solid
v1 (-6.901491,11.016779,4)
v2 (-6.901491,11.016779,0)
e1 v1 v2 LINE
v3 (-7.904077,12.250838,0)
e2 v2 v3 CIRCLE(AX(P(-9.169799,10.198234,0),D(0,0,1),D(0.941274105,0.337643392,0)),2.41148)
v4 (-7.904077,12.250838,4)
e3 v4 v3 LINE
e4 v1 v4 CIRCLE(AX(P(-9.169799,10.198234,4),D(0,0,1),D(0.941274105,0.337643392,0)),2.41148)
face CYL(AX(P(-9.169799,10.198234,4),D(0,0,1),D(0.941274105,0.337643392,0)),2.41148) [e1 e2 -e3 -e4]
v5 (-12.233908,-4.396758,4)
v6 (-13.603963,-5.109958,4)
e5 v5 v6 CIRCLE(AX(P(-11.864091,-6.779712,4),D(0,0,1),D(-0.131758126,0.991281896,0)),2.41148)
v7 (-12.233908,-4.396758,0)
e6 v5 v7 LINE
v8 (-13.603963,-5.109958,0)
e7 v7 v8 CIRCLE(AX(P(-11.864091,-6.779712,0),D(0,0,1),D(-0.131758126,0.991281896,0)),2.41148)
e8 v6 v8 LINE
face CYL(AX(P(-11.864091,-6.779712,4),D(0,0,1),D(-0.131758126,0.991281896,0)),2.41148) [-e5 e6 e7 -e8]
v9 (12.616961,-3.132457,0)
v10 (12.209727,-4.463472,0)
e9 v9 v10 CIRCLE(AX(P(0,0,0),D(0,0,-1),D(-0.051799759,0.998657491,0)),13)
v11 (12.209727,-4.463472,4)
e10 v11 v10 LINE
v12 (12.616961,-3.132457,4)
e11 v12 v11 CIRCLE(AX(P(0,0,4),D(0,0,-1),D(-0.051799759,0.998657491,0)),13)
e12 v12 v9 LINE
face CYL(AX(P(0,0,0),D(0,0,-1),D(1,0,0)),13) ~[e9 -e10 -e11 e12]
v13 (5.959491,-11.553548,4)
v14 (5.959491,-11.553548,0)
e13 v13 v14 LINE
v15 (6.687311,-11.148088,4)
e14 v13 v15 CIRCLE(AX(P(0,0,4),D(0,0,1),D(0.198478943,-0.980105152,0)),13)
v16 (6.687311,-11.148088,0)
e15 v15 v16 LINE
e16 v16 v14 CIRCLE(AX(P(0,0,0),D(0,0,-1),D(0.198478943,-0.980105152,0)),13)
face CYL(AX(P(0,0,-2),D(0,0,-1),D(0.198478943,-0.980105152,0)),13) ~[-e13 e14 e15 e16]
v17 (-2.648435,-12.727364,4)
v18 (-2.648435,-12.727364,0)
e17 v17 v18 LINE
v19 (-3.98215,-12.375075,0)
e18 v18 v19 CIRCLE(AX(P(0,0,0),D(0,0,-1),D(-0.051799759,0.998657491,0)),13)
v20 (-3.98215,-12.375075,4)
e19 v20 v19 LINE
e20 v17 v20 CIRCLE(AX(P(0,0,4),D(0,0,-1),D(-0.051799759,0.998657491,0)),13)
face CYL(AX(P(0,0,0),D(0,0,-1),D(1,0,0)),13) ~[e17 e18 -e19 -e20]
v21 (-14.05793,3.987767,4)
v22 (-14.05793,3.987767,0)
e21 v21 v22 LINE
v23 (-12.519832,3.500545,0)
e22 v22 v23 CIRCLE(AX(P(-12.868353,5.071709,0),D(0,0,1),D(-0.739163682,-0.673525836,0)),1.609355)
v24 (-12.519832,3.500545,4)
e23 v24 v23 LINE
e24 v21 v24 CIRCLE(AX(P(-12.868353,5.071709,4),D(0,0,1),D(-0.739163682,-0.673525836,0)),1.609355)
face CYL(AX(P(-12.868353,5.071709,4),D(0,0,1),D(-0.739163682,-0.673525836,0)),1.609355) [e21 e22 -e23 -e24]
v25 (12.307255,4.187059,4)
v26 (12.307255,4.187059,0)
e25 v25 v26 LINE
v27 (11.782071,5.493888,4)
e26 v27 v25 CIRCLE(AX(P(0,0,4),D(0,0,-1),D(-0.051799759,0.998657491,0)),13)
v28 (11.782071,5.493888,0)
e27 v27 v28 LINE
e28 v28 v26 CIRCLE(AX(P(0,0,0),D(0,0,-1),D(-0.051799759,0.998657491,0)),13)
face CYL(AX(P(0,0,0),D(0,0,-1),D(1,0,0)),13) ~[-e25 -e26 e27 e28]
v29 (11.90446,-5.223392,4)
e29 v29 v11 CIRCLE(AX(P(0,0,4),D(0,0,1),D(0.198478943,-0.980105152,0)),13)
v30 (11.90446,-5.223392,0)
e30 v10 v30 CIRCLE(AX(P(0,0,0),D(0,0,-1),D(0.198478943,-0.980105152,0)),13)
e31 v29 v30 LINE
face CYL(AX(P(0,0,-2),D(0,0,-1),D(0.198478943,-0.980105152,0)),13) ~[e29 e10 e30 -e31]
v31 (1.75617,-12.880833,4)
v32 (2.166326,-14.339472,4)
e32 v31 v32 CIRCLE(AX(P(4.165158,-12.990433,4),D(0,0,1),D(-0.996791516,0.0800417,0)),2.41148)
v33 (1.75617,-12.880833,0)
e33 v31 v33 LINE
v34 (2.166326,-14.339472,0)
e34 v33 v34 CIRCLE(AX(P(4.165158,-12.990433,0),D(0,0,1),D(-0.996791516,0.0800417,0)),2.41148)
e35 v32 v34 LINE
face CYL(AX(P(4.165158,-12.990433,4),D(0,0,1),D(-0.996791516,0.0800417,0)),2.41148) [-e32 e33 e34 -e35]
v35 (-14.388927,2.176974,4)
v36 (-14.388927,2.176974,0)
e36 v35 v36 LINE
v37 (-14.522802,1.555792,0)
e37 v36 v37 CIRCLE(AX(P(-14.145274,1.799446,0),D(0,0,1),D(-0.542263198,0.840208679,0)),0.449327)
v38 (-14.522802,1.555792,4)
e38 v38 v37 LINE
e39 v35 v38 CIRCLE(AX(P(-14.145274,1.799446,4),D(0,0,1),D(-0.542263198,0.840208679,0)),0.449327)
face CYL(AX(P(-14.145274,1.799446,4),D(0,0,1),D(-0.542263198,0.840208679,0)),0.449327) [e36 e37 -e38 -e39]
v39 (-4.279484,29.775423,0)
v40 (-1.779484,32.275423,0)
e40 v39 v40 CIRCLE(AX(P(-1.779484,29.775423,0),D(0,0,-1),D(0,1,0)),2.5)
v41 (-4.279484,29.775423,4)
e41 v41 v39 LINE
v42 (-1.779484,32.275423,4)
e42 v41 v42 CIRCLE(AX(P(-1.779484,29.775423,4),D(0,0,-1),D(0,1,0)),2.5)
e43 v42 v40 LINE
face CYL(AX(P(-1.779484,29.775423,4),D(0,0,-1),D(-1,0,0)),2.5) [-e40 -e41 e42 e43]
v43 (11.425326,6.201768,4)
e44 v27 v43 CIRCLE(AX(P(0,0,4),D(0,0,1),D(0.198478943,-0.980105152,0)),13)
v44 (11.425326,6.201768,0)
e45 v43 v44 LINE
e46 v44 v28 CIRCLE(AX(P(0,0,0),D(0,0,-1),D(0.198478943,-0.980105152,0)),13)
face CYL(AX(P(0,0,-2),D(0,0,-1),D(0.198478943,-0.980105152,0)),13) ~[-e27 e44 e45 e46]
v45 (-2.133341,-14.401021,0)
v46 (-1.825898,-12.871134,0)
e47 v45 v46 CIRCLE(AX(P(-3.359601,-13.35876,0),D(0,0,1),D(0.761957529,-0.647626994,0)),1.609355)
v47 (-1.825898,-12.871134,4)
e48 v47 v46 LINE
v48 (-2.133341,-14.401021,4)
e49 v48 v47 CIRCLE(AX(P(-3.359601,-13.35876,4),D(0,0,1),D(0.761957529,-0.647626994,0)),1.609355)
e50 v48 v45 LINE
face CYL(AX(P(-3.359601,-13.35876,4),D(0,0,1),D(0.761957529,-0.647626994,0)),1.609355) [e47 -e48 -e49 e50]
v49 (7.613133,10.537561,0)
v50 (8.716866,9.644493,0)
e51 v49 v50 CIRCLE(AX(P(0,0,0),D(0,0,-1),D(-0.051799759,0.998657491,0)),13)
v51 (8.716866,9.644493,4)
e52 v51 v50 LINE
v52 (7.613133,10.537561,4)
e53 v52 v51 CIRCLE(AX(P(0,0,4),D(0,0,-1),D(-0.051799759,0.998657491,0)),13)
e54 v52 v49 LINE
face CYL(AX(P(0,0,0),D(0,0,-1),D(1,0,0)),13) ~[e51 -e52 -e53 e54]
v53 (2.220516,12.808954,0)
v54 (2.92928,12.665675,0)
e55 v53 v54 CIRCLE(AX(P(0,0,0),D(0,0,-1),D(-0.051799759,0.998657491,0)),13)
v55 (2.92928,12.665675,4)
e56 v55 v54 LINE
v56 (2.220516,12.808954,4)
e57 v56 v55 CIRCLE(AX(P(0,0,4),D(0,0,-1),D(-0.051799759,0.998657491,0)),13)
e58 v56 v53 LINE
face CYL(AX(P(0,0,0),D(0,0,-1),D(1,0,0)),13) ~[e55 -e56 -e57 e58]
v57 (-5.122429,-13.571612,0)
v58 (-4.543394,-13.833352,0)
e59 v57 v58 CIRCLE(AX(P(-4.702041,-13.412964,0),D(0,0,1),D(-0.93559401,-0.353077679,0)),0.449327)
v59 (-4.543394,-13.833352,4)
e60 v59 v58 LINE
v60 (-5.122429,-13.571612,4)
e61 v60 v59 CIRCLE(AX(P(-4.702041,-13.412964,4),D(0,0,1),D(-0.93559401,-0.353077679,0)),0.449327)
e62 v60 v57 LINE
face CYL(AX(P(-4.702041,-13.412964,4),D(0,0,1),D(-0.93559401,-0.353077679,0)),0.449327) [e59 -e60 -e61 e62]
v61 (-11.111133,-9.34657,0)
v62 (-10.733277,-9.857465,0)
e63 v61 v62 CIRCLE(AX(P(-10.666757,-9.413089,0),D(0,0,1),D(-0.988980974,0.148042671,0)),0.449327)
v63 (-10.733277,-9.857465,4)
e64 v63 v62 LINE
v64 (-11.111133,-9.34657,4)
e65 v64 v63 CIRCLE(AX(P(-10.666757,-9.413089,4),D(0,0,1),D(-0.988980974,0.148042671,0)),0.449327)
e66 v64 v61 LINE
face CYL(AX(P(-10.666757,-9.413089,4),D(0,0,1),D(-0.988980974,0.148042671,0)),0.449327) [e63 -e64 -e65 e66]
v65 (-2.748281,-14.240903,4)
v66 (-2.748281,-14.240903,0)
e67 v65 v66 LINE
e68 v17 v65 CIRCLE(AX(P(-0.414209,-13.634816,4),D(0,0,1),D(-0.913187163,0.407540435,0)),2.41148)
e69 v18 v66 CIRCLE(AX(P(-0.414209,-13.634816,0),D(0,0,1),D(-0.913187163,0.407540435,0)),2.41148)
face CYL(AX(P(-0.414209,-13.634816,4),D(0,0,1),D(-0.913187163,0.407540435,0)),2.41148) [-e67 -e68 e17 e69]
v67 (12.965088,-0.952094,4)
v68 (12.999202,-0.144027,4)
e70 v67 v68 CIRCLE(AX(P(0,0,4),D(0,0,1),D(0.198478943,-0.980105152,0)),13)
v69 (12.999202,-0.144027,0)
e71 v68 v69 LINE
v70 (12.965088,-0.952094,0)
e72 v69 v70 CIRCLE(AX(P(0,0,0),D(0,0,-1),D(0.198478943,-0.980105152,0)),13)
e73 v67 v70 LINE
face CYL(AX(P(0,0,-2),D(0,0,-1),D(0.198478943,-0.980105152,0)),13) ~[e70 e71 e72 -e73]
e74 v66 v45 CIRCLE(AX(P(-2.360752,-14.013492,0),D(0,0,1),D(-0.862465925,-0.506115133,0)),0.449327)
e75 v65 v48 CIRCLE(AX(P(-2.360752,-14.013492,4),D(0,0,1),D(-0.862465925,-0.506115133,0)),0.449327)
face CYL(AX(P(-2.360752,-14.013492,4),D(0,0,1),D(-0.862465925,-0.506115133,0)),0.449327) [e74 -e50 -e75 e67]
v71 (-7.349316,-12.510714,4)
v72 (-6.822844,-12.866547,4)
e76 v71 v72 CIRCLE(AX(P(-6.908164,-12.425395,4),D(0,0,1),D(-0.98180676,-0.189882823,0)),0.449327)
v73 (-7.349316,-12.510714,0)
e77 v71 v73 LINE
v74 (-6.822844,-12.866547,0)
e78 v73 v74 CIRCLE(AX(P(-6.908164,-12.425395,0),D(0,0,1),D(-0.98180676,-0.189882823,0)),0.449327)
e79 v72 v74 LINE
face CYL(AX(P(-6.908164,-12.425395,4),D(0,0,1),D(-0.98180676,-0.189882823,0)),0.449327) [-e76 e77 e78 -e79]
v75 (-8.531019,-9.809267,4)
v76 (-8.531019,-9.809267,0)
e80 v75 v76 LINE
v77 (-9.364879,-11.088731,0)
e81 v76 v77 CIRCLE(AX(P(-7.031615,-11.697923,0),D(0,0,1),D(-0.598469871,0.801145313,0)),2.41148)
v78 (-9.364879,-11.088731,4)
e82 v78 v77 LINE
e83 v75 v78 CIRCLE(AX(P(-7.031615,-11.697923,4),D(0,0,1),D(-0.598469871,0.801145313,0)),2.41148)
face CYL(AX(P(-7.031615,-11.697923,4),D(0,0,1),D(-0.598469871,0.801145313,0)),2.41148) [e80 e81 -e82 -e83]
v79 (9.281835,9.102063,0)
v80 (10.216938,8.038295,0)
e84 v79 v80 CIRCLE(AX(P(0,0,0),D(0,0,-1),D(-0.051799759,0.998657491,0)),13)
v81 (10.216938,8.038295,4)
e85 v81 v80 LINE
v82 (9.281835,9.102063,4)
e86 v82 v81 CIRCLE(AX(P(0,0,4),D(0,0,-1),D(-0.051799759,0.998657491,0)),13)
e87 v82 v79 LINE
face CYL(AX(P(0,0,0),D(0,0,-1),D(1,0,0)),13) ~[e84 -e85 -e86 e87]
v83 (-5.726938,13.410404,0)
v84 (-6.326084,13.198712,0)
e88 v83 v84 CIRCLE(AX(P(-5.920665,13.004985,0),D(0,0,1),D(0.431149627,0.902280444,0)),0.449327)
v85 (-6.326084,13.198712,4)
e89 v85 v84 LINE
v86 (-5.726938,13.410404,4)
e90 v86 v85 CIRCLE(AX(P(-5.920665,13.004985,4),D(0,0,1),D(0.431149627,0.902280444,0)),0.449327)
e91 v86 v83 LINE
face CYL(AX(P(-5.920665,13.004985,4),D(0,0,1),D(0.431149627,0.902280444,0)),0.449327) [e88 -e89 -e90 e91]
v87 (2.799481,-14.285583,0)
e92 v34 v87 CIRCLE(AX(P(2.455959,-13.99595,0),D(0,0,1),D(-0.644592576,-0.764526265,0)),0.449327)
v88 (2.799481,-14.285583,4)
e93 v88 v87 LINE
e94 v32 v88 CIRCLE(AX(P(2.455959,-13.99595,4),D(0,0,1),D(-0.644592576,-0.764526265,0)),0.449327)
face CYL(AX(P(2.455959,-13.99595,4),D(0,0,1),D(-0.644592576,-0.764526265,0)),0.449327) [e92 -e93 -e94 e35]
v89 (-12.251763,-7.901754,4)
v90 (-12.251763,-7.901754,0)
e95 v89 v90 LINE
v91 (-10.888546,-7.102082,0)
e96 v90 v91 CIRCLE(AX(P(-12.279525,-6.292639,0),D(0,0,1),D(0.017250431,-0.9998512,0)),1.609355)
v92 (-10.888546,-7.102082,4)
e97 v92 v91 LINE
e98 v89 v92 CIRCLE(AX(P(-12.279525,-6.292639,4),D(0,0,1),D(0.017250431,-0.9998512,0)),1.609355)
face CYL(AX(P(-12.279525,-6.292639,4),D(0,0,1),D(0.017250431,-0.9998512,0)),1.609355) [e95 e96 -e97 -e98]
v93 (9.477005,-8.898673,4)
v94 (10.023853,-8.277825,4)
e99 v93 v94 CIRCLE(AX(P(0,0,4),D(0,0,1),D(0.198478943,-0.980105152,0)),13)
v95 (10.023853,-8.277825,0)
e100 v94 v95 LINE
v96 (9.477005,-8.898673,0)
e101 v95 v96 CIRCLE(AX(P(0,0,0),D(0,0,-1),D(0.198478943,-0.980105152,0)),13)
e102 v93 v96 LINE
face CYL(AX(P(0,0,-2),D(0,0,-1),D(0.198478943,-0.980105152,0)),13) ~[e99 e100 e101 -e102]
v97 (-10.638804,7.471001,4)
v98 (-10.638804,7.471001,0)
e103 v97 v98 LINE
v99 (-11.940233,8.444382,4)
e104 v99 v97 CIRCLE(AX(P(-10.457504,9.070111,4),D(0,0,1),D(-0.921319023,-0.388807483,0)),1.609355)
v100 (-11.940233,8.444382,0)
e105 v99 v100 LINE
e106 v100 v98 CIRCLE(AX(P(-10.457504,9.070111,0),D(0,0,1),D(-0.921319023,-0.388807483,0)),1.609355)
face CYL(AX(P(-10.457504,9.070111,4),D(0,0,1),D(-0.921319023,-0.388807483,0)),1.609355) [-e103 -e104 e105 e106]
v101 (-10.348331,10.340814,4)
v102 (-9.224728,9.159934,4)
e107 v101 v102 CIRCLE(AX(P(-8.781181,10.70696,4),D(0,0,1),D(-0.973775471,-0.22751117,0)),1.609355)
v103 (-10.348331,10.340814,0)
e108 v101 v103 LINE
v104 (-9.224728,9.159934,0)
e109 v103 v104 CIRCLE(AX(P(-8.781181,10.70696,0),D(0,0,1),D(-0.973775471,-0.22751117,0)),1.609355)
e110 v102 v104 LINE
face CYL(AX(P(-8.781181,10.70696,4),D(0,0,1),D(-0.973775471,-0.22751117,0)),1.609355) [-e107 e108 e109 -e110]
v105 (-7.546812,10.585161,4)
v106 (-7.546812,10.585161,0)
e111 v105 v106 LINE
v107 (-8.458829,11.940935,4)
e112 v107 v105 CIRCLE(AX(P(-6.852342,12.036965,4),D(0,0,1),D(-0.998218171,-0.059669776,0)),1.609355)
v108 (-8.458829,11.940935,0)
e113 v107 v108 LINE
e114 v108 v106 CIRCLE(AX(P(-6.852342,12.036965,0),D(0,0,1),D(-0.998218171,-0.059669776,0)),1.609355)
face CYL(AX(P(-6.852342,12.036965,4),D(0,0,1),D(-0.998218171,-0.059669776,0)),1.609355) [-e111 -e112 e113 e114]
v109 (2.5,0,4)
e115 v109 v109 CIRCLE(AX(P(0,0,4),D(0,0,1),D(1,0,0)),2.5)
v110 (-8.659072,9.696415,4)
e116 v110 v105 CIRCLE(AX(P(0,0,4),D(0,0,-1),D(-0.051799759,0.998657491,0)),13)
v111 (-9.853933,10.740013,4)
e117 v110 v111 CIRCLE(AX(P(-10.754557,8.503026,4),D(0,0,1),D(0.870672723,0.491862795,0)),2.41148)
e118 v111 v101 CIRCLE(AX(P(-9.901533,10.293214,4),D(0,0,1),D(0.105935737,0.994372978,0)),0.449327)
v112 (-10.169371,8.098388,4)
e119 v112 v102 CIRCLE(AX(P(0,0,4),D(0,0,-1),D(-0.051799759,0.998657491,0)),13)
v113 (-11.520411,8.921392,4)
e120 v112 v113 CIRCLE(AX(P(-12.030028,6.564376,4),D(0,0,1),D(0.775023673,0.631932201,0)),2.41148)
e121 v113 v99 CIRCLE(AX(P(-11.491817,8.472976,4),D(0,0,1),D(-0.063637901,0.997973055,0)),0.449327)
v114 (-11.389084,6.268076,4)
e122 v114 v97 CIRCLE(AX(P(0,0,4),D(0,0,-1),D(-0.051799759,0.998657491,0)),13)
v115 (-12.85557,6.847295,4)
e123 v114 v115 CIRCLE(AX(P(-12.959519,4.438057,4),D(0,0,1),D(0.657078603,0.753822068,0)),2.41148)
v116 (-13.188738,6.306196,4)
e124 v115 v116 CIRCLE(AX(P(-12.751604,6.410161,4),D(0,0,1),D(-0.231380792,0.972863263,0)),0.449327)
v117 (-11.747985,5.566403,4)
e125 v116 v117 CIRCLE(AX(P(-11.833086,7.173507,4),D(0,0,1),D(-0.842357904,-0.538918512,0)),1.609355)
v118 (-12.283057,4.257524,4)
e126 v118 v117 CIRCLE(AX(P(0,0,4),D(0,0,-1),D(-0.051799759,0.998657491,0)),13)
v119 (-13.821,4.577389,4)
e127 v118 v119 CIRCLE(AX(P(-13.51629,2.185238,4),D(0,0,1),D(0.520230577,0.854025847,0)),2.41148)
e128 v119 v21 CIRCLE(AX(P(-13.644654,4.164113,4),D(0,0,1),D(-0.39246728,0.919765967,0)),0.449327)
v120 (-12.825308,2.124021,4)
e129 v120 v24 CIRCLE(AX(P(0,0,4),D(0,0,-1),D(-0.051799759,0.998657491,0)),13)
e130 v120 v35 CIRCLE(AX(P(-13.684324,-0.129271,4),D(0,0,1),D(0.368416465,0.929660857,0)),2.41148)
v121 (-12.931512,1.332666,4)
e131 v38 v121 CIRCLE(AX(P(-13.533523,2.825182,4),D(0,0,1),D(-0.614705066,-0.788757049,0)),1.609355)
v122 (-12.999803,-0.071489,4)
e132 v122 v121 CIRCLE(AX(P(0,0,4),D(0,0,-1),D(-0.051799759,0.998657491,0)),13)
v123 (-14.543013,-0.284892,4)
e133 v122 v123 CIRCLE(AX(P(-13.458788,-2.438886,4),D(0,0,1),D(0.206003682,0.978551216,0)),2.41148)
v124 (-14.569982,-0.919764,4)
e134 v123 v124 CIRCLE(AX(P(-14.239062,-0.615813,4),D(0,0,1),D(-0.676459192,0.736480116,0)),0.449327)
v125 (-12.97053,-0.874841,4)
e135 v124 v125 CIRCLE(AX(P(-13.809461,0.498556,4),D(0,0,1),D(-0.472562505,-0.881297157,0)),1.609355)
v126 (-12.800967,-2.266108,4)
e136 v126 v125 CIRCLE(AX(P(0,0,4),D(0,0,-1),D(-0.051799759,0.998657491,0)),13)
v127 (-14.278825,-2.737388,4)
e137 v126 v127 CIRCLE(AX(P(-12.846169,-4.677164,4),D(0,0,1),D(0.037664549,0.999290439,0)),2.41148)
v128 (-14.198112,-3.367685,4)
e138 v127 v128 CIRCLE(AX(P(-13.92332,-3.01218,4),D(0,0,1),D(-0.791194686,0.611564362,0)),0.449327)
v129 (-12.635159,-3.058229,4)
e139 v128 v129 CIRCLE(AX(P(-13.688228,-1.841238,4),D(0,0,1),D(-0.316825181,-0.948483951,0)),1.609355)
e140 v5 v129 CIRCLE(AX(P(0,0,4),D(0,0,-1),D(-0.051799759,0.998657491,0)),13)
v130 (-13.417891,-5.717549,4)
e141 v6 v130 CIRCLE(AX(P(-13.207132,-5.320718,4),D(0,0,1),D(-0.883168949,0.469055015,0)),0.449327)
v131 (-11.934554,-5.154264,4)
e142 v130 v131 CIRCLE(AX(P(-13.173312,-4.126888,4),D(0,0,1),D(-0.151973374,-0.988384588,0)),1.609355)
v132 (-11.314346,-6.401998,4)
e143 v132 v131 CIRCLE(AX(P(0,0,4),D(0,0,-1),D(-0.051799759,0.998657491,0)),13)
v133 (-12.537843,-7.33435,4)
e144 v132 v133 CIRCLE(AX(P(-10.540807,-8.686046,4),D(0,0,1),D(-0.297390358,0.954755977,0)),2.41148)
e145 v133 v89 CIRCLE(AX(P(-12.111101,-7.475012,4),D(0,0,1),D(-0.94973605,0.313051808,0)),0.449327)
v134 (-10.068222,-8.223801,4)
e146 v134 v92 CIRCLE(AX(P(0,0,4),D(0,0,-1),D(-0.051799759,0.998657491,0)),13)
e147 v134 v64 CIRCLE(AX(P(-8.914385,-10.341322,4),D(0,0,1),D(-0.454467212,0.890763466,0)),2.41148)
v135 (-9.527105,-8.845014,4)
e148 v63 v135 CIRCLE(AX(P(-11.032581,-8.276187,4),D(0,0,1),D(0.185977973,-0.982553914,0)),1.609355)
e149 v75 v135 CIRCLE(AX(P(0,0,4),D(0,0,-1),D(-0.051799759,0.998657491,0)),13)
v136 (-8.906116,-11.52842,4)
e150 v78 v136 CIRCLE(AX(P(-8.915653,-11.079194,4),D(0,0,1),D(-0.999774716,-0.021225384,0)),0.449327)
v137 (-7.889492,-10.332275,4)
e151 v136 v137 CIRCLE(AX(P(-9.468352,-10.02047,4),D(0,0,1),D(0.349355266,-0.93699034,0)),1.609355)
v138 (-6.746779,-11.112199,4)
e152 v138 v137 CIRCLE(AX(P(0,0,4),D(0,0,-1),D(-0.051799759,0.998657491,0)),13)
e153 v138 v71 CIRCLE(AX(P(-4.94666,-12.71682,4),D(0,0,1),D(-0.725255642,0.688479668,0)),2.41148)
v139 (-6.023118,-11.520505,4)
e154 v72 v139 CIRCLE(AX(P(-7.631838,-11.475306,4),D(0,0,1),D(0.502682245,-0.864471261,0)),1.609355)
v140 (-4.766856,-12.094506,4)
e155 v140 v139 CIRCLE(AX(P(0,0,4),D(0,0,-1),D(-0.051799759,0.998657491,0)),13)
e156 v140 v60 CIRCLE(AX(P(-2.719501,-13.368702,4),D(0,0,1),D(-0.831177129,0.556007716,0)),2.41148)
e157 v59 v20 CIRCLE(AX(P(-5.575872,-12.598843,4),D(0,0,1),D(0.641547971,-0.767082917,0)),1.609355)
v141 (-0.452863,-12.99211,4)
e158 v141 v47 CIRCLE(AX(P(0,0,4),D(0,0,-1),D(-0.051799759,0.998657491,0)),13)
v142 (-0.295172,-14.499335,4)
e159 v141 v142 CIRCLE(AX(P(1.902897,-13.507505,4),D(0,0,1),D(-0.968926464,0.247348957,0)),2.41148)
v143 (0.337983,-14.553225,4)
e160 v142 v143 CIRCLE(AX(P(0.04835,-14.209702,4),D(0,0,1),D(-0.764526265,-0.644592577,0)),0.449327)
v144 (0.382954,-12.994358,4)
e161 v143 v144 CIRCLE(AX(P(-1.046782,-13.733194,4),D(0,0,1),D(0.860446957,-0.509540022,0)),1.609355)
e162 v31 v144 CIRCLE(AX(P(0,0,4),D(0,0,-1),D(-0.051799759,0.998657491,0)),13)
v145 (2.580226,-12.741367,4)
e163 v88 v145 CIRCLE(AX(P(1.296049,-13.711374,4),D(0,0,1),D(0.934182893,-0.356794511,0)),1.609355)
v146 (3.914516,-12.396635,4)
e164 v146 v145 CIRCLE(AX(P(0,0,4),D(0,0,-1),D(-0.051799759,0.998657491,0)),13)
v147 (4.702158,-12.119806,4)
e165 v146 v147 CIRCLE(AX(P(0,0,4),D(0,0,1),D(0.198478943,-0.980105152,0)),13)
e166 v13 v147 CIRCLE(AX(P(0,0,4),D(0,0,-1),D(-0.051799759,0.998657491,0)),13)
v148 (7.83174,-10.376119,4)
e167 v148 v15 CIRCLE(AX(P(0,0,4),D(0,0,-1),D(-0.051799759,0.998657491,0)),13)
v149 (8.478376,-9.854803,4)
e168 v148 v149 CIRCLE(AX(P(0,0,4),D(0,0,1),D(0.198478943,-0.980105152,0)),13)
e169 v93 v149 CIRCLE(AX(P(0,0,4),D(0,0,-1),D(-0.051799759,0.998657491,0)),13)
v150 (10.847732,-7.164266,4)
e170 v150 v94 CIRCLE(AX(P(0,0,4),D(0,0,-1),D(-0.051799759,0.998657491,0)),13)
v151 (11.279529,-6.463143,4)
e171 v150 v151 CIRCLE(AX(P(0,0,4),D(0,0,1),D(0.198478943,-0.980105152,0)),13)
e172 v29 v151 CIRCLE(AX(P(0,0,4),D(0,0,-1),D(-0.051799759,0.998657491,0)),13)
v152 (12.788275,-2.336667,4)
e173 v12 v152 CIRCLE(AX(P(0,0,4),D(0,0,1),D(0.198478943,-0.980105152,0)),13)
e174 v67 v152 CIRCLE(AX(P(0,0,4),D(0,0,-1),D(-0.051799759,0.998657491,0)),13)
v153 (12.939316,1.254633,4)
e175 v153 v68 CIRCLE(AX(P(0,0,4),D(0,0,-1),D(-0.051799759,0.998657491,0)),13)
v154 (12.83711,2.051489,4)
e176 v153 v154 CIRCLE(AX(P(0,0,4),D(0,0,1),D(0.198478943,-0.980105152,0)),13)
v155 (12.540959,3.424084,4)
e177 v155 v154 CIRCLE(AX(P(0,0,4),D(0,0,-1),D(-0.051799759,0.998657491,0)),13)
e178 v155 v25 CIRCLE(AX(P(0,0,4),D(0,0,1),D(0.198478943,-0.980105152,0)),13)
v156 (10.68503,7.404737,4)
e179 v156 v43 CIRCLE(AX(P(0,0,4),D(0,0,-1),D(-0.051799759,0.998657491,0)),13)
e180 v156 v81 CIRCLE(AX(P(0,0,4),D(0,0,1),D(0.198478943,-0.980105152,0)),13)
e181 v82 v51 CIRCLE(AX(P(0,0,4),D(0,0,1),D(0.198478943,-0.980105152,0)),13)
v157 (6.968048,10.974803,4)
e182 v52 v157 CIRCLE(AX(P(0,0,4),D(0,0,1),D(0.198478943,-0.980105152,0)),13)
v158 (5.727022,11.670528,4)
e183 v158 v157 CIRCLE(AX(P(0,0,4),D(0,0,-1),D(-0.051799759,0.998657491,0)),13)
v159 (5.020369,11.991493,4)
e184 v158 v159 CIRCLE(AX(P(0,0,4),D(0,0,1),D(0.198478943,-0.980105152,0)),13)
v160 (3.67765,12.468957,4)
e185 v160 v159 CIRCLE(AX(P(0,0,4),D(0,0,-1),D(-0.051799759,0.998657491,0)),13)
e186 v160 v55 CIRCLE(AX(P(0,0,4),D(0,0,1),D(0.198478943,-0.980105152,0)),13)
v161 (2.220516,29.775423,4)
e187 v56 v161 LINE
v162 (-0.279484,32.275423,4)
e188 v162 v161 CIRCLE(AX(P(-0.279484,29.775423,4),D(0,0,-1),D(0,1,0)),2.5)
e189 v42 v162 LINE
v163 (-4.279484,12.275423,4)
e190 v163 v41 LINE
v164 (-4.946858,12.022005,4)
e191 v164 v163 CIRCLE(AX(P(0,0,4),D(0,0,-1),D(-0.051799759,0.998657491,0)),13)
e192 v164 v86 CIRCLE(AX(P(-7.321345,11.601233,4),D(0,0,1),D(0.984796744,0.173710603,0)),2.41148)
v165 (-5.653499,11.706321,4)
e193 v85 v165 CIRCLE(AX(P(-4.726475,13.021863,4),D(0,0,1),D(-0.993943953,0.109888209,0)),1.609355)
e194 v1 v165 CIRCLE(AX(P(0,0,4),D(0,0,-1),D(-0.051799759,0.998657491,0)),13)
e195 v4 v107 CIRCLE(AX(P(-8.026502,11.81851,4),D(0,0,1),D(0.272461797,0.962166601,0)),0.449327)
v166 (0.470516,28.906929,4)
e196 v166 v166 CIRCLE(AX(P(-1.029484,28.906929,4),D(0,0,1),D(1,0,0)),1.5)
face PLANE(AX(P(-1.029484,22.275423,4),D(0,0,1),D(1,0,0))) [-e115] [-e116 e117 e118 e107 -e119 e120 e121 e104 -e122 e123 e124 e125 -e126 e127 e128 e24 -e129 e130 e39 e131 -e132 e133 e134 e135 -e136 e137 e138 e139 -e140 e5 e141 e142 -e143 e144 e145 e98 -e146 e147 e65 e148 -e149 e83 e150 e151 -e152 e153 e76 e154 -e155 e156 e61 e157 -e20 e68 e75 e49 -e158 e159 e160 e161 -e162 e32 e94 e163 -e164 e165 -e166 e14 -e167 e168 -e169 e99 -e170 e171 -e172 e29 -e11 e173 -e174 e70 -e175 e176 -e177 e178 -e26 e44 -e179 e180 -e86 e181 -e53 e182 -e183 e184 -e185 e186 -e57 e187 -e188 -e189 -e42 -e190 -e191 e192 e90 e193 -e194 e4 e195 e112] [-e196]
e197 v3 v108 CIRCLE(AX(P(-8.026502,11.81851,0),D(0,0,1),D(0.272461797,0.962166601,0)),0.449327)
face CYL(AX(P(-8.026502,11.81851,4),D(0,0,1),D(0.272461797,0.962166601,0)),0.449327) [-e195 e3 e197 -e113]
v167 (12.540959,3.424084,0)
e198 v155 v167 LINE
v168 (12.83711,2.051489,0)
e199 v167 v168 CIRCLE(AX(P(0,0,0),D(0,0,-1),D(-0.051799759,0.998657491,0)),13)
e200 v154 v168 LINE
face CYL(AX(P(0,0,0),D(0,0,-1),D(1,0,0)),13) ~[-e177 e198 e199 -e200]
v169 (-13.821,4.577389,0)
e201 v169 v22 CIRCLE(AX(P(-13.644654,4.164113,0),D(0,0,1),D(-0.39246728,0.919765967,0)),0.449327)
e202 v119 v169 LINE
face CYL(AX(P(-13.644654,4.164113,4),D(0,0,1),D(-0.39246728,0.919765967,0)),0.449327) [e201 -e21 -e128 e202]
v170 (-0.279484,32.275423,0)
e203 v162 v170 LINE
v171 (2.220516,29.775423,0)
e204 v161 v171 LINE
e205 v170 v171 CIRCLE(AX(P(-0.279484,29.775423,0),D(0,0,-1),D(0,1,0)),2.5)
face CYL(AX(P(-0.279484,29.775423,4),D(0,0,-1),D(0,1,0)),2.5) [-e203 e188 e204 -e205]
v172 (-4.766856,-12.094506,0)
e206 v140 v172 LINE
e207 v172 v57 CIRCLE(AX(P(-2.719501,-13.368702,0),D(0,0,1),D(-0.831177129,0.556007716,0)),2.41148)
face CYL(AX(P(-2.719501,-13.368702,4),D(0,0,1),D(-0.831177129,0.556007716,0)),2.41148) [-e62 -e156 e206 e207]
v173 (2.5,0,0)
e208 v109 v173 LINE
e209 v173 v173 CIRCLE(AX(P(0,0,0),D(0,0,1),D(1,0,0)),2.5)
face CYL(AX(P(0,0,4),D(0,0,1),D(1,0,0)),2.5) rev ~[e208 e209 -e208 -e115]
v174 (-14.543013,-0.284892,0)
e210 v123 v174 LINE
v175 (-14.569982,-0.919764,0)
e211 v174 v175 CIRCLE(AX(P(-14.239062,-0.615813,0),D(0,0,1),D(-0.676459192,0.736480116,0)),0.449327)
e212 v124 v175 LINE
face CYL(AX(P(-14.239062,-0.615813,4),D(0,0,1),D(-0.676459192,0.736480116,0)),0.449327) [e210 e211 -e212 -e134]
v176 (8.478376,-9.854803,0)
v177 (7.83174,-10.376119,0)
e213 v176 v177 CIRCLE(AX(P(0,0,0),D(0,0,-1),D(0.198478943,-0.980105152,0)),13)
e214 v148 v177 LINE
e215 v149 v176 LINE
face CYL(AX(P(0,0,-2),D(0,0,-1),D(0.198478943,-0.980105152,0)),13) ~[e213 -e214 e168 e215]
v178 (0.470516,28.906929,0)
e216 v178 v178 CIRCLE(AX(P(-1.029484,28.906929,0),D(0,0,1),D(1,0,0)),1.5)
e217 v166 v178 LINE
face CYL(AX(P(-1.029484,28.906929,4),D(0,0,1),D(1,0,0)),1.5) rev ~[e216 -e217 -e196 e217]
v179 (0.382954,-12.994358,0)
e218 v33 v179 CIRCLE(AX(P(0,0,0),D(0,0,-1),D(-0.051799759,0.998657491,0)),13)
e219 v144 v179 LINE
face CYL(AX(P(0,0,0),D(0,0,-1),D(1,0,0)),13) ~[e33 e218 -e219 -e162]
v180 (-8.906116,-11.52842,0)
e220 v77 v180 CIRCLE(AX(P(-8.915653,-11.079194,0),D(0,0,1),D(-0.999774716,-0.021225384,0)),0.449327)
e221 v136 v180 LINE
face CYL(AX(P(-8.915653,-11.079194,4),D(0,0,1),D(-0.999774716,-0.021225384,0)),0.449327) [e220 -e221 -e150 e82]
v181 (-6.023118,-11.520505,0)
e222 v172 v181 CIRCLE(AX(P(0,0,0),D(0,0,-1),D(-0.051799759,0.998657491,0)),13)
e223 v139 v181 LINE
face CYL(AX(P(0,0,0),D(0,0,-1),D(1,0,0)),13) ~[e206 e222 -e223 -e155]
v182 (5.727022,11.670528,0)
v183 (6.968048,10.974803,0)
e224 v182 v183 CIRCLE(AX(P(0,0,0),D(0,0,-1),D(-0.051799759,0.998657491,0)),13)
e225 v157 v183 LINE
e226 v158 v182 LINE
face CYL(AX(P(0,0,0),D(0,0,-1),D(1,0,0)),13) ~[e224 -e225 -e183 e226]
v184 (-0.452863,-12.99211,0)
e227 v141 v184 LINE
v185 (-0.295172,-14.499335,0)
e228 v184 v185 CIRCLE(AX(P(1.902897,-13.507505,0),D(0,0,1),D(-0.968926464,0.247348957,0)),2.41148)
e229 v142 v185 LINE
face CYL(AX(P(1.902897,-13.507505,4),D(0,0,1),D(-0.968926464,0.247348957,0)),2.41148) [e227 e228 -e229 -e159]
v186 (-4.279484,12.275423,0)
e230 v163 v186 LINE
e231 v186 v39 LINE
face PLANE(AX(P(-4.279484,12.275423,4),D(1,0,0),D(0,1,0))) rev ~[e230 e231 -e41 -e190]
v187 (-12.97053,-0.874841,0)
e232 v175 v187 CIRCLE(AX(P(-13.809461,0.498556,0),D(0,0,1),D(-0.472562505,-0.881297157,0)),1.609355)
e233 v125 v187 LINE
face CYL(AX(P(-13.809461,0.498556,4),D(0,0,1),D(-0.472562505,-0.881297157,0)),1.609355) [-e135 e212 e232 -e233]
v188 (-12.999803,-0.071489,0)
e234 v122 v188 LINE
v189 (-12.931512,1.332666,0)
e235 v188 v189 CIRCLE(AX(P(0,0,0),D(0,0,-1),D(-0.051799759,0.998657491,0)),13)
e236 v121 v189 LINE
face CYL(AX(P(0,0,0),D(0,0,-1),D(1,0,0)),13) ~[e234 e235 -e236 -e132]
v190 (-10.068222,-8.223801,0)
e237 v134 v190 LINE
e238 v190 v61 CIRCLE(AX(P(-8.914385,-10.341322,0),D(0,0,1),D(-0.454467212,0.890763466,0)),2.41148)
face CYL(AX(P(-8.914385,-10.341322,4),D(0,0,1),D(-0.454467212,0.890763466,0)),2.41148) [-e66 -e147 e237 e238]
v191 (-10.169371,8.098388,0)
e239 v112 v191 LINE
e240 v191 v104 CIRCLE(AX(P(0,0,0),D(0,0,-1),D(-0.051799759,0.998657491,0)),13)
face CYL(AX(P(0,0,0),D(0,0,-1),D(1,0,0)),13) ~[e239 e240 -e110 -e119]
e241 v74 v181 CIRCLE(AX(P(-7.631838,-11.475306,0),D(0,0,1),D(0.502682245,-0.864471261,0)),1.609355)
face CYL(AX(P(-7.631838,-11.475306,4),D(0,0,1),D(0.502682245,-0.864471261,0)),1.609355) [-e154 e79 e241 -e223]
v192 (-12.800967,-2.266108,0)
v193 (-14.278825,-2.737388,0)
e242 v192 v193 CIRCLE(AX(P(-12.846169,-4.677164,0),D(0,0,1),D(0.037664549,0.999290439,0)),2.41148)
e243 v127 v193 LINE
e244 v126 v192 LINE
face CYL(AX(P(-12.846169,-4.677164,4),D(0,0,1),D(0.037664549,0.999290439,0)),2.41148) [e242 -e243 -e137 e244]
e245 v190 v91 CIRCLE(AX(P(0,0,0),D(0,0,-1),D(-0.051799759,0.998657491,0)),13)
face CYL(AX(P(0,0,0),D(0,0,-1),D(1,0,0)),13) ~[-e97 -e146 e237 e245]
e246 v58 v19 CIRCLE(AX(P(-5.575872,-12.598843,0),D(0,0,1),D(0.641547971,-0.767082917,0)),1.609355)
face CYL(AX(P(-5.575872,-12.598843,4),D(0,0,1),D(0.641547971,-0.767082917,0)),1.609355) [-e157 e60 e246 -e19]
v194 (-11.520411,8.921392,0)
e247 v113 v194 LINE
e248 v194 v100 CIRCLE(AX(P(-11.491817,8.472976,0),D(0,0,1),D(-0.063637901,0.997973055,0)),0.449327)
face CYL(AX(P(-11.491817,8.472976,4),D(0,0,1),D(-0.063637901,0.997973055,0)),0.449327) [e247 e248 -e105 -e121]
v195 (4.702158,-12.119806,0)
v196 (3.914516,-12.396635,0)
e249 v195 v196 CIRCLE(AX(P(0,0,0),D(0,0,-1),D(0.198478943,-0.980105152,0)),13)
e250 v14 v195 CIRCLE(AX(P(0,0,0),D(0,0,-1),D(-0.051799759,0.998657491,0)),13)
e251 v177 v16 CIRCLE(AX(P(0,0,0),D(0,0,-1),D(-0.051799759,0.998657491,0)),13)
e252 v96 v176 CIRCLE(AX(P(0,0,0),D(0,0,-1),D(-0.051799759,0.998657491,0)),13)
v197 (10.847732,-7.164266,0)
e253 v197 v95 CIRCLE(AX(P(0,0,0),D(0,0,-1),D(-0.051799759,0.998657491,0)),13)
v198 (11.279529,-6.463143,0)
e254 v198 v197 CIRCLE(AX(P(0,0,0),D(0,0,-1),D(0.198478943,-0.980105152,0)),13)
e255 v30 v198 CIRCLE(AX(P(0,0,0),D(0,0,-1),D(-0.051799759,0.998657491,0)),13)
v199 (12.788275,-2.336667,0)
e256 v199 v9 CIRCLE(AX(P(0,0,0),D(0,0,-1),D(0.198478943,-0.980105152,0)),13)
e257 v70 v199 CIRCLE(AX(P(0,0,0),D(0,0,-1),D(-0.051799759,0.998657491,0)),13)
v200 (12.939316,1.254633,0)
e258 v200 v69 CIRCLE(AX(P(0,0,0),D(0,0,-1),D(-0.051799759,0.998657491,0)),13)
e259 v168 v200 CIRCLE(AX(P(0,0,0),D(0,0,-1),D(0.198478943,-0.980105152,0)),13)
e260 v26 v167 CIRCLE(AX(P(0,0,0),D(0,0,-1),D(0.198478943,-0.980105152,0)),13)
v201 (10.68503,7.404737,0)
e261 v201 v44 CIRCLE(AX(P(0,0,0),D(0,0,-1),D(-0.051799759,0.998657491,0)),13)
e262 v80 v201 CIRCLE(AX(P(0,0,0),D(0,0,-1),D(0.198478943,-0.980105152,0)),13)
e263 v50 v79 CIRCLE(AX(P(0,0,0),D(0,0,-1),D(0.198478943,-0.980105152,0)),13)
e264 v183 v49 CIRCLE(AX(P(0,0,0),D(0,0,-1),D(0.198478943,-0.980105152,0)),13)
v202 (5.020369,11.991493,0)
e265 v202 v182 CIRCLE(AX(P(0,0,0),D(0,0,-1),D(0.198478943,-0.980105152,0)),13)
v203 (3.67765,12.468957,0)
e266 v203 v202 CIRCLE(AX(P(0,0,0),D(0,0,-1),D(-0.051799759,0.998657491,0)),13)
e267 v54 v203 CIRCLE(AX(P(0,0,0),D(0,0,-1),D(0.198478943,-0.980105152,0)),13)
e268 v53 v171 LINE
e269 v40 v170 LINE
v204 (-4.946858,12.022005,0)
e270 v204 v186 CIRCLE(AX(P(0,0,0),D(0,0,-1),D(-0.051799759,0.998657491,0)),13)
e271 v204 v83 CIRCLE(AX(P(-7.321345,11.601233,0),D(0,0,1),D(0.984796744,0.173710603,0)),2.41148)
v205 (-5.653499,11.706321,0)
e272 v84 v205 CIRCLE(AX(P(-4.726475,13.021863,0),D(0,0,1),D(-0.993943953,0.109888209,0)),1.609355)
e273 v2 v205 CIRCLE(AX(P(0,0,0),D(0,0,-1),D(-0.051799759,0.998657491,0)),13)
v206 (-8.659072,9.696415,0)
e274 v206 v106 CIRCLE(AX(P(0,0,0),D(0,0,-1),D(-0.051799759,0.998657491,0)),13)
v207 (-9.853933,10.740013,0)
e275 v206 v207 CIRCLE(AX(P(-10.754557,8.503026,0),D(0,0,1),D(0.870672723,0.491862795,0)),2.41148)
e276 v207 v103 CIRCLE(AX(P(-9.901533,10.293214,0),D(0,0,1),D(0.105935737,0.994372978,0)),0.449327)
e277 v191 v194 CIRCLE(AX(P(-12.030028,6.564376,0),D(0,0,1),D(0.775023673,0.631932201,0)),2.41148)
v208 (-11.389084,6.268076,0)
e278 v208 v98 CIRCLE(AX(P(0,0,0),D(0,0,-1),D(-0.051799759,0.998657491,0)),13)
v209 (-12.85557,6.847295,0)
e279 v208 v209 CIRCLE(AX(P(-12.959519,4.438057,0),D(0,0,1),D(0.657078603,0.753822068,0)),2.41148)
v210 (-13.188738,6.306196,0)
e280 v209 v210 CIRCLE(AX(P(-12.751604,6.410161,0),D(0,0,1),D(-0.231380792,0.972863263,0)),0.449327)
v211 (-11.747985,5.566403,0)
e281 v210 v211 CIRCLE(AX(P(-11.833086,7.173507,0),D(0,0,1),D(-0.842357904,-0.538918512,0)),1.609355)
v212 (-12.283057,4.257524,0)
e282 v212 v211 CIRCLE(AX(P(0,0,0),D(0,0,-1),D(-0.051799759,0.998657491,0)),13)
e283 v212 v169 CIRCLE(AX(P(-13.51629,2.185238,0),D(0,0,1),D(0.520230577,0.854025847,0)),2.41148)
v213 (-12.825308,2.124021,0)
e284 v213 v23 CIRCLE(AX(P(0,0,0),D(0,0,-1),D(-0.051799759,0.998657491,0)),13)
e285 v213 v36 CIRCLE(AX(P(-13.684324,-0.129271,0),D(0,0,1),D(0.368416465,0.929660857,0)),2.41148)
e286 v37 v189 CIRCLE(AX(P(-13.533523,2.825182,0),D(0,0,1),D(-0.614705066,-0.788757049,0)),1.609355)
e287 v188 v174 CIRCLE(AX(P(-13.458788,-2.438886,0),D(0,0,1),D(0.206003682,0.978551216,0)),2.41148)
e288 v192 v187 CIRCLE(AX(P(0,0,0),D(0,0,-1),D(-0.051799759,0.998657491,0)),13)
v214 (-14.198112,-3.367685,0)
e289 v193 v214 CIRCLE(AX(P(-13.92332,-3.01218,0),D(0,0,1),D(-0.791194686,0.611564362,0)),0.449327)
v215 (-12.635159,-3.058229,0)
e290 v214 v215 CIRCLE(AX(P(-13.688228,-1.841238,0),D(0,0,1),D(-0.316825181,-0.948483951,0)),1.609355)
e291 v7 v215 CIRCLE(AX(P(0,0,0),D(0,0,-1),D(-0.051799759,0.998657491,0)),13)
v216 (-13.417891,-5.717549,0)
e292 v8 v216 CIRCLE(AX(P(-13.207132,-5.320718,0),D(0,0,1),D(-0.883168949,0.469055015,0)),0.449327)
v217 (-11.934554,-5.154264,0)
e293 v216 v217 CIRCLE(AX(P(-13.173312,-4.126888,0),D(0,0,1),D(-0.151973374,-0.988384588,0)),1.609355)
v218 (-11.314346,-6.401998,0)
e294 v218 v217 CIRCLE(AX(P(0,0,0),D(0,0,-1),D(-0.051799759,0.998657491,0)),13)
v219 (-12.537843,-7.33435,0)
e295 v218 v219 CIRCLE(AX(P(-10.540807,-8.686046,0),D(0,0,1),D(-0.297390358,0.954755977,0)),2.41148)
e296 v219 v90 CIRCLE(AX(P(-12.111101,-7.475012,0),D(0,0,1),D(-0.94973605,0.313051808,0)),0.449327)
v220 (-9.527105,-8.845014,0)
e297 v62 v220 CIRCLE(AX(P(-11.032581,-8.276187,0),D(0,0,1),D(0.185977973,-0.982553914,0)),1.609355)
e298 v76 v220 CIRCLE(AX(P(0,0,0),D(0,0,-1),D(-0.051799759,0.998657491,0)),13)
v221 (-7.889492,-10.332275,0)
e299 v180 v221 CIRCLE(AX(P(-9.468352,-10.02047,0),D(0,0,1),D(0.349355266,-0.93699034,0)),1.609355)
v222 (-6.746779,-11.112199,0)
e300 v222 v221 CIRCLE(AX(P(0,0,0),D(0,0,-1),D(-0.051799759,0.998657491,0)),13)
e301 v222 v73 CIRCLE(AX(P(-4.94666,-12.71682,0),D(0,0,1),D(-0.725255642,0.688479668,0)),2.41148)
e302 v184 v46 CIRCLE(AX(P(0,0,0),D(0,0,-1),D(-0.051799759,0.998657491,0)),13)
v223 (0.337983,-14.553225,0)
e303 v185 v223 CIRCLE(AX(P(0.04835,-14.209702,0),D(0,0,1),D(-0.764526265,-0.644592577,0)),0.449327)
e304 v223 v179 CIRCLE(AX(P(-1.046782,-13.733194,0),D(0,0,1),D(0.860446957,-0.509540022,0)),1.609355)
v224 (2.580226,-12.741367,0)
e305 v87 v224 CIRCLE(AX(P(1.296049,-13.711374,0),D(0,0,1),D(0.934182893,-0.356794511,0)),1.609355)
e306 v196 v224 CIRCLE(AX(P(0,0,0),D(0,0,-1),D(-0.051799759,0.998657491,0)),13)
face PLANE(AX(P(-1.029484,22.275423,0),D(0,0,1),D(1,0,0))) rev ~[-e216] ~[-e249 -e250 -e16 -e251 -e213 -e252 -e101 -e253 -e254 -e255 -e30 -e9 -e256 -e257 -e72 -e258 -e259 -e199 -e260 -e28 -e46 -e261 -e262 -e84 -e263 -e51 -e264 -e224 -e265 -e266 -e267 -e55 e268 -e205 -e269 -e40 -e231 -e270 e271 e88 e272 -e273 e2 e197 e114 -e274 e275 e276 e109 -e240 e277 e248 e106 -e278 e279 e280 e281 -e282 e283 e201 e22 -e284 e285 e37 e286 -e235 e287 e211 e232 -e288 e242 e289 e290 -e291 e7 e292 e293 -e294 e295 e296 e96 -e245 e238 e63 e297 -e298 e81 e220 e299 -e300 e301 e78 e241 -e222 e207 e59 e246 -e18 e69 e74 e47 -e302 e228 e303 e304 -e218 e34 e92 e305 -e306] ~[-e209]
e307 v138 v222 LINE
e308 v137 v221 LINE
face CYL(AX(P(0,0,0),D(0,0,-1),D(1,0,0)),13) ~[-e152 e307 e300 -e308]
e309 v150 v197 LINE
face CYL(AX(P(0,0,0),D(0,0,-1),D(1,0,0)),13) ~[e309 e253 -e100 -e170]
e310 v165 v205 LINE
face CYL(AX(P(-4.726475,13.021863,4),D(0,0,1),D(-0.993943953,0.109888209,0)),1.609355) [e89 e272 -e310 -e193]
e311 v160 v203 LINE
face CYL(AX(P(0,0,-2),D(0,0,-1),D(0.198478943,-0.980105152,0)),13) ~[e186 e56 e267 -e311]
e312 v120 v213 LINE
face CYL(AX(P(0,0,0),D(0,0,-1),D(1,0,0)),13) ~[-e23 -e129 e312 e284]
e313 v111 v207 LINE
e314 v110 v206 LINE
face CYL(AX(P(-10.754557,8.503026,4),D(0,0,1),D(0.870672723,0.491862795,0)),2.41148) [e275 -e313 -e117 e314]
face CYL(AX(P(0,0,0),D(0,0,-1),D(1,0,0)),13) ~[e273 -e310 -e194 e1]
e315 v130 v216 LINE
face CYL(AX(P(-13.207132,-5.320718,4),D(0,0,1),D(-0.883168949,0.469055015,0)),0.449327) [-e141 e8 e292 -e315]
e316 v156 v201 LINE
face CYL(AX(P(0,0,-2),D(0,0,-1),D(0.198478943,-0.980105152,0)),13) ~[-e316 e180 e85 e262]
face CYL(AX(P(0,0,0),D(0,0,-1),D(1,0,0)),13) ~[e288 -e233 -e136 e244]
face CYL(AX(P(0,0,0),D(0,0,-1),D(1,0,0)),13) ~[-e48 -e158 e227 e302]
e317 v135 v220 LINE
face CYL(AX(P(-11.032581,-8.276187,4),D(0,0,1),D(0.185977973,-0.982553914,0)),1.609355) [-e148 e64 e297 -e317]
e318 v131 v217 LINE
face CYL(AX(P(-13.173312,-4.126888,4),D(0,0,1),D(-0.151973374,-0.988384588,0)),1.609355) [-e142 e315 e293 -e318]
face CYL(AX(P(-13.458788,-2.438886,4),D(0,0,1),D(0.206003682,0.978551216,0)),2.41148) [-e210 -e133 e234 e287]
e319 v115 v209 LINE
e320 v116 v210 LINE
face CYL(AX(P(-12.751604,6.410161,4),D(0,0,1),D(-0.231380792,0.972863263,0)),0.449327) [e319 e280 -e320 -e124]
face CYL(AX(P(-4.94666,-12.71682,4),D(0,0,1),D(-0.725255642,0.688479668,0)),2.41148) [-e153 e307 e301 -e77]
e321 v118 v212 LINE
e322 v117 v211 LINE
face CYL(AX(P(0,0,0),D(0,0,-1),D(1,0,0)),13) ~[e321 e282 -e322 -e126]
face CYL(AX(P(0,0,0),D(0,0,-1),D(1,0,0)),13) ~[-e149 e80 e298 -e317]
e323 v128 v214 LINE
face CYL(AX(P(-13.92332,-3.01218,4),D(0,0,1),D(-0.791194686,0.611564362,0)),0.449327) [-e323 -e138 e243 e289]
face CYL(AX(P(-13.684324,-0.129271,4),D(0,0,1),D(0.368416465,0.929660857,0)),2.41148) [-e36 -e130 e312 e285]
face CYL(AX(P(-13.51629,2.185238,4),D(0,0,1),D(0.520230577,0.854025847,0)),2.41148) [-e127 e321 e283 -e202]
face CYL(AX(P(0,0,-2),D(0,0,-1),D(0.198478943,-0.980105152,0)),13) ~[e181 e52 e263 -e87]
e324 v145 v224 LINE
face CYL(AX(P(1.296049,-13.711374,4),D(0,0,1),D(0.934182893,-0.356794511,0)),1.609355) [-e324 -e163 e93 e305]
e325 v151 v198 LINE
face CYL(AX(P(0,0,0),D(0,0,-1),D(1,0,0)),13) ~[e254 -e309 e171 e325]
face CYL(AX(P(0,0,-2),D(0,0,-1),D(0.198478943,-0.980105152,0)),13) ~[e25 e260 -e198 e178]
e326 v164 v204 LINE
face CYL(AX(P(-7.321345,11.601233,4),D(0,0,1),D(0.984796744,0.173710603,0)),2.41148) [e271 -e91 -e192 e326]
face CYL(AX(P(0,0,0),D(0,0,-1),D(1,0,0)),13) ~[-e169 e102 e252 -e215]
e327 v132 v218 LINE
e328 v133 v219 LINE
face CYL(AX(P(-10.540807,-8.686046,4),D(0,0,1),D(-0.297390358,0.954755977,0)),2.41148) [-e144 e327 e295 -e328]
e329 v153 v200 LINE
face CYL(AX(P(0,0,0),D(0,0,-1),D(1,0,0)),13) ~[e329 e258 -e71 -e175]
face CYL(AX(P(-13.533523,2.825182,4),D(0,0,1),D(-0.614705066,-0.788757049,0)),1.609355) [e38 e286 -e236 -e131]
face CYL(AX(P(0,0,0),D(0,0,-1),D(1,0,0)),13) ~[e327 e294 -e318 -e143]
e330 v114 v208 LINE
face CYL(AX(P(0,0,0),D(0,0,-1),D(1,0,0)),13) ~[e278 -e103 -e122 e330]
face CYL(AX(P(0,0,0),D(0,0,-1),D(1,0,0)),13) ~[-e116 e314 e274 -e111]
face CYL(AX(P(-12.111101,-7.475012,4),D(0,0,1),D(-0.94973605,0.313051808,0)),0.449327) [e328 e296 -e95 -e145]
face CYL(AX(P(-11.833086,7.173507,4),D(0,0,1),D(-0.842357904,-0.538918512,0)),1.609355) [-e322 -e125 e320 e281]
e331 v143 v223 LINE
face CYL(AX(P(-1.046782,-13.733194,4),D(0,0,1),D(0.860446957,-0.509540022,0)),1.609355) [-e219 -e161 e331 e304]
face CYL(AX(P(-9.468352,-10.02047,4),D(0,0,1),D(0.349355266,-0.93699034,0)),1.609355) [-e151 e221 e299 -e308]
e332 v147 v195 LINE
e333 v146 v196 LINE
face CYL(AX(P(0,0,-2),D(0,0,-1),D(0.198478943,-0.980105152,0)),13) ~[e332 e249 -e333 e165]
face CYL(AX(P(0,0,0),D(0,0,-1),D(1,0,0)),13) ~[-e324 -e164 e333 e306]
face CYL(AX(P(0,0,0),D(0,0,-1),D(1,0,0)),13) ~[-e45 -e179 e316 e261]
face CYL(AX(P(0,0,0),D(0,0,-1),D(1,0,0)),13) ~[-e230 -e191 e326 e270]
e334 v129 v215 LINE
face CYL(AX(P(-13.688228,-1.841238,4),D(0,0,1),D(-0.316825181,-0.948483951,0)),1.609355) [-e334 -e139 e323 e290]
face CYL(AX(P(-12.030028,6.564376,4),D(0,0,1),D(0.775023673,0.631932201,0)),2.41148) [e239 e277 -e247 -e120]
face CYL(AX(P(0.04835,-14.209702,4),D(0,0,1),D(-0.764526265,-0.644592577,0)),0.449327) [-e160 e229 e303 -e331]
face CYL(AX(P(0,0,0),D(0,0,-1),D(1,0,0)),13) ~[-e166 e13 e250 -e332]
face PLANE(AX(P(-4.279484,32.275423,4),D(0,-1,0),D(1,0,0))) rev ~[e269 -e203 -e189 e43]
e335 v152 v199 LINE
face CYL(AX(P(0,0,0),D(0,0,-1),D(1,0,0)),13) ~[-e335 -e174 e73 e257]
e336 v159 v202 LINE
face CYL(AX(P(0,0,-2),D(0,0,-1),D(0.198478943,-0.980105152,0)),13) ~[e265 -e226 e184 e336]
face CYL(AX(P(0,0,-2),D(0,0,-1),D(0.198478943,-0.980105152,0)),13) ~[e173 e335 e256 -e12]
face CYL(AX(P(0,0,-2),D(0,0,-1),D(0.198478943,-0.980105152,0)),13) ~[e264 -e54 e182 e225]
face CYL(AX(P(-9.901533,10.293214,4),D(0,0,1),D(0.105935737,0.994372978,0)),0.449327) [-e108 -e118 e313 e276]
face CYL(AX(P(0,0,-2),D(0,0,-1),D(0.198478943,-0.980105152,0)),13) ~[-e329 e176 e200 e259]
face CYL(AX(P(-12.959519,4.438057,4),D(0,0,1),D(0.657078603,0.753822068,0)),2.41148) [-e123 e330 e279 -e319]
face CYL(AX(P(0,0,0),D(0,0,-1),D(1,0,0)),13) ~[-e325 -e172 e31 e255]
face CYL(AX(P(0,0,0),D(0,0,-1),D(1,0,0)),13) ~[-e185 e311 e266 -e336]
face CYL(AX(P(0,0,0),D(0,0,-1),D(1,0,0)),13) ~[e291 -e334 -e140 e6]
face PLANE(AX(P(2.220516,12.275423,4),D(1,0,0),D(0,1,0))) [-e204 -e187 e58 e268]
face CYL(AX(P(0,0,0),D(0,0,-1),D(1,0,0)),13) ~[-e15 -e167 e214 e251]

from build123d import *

# Parameters (mm, degrees)
SKETCH1_R           = 13
BOSS_EXTRUDE1_DEPTH = 4
BOSS_EXTRUDE2_DEPTH = 4
CIRPATTERN1_COUNT   = 37
CUT_EXTRUDE1_START  = -6
CUT_EXTRUDE1_DEPTH  = 6
SKETCH5_W           = 6.5
SKETCH5_H           = 20
BOSS_EXTRUDE3_DEPTH = 4
FILLET1_R           = 2.5
SKETCH6_R           = 2.5
CUT_EXTRUDE2_DEPTH  = 36.685455193
SKETCH7_R           = 1.5
CUT_EXTRUDE3_DEPTH  = 36.685455193


with BuildPart() as part:
    # Sketch1 → Boss-Extrude1 (new body)
    with BuildSketch(Plane.XY):
        Circle(SKETCH1_R)
    extrude(amount=BOSS_EXTRUDE1_DEPTH)

    # Sketch2 → Boss-Extrude2 (add)
    with BuildSketch(Plane.XY.offset(4)):
        with BuildLine():
            Line((-1.442756516, 12.919692475), (-0.673396871, 12.982547387))
            ThreePointArc((-0.673396871, 12.982547387), (-0.676161598, 13.791154594), (-0.946073249, 14.553388784))
            ThreePointArc((-0.946073249, 14.553388784), (-1.263795502, 14.68499365), (-1.581517754, 14.553388784))
            ThreePointArc((-1.581517754, 14.553388784), (-1.735779337, 13.717545135), (-1.442756516, 12.919692475))
        make_face()
    boss_extrude2 = extrude(amount=-BOSS_EXTRUDE2_DEPTH)

    # CirPattern1: Boss-Extrude2 ×37 about axis
    cirpattern1_axis = Axis((-0.003550518, 0.04085181, 0), (0, 0, 1))
    for i in range(1, CIRPATTERN1_COUNT):
        add(boss_extrude2.rotate(cirpattern1_axis, i * 360 / CIRPATTERN1_COUNT))

    # Sketch3 → Cut-Extrude1 (cut)
    with BuildSketch(Plane.XY.offset(4).offset(CUT_EXTRUDE1_START)):
        with BuildLine():
            ThreePointArc((2.580226265, -12.741366976), (12.998773331, -0.178582984), (2.929279614, 12.665674911))
            ThreePointArc((2.929279614, 12.665674911), (2.706489738, 14.000196281), (3.492602617, 15.101381624))
            ThreePointArc((3.492602617, 15.101381624), (15.498537433, -0.212925866), (3.076423624, -15.191629856))
            ThreePointArc((3.076423624, -15.191629856), (3.335791003, -13.863732578), (2.580226265, -12.741366976))
        make_face()
    extrude(amount=CUT_EXTRUDE1_DEPTH, mode=Mode.SUBTRACT)

    # Sketch5 → Boss-Extrude3 (add)
    with BuildSketch(Plane.XY.offset(4)):
        with Locations((-1.029483868, 22.275423326)):
            Rectangle(SKETCH5_W, SKETCH5_H)
    extrude(amount=-BOSS_EXTRUDE3_DEPTH)

    # Fillet1
    fillet1_edges = [part.edges().sort_by_distance(p)[0] for p in [
        (2.220516132, 32.275423326, 2),
        (-4.279483868, 32.275423326, 2),
    ]]
    fillet(fillet1_edges, radius=FILLET1_R)

    # Sketch6 → Cut-Extrude2 (cut, through all)
    with BuildSketch(Plane.XY.offset(4)):
        Circle(SKETCH6_R)
    extrude(amount=-CUT_EXTRUDE2_DEPTH, mode=Mode.SUBTRACT)

    # Sketch7 → Cut-Extrude3 (cut, through all)
    with BuildSketch(Plane.XY.offset(4)):
        with Locations((-1.029483868, 28.906928641)):
            Circle(SKETCH7_R)
    extrude(amount=-CUT_EXTRUDE3_DEPTH, mode=Mode.SUBTRACT)


solid = part.part
